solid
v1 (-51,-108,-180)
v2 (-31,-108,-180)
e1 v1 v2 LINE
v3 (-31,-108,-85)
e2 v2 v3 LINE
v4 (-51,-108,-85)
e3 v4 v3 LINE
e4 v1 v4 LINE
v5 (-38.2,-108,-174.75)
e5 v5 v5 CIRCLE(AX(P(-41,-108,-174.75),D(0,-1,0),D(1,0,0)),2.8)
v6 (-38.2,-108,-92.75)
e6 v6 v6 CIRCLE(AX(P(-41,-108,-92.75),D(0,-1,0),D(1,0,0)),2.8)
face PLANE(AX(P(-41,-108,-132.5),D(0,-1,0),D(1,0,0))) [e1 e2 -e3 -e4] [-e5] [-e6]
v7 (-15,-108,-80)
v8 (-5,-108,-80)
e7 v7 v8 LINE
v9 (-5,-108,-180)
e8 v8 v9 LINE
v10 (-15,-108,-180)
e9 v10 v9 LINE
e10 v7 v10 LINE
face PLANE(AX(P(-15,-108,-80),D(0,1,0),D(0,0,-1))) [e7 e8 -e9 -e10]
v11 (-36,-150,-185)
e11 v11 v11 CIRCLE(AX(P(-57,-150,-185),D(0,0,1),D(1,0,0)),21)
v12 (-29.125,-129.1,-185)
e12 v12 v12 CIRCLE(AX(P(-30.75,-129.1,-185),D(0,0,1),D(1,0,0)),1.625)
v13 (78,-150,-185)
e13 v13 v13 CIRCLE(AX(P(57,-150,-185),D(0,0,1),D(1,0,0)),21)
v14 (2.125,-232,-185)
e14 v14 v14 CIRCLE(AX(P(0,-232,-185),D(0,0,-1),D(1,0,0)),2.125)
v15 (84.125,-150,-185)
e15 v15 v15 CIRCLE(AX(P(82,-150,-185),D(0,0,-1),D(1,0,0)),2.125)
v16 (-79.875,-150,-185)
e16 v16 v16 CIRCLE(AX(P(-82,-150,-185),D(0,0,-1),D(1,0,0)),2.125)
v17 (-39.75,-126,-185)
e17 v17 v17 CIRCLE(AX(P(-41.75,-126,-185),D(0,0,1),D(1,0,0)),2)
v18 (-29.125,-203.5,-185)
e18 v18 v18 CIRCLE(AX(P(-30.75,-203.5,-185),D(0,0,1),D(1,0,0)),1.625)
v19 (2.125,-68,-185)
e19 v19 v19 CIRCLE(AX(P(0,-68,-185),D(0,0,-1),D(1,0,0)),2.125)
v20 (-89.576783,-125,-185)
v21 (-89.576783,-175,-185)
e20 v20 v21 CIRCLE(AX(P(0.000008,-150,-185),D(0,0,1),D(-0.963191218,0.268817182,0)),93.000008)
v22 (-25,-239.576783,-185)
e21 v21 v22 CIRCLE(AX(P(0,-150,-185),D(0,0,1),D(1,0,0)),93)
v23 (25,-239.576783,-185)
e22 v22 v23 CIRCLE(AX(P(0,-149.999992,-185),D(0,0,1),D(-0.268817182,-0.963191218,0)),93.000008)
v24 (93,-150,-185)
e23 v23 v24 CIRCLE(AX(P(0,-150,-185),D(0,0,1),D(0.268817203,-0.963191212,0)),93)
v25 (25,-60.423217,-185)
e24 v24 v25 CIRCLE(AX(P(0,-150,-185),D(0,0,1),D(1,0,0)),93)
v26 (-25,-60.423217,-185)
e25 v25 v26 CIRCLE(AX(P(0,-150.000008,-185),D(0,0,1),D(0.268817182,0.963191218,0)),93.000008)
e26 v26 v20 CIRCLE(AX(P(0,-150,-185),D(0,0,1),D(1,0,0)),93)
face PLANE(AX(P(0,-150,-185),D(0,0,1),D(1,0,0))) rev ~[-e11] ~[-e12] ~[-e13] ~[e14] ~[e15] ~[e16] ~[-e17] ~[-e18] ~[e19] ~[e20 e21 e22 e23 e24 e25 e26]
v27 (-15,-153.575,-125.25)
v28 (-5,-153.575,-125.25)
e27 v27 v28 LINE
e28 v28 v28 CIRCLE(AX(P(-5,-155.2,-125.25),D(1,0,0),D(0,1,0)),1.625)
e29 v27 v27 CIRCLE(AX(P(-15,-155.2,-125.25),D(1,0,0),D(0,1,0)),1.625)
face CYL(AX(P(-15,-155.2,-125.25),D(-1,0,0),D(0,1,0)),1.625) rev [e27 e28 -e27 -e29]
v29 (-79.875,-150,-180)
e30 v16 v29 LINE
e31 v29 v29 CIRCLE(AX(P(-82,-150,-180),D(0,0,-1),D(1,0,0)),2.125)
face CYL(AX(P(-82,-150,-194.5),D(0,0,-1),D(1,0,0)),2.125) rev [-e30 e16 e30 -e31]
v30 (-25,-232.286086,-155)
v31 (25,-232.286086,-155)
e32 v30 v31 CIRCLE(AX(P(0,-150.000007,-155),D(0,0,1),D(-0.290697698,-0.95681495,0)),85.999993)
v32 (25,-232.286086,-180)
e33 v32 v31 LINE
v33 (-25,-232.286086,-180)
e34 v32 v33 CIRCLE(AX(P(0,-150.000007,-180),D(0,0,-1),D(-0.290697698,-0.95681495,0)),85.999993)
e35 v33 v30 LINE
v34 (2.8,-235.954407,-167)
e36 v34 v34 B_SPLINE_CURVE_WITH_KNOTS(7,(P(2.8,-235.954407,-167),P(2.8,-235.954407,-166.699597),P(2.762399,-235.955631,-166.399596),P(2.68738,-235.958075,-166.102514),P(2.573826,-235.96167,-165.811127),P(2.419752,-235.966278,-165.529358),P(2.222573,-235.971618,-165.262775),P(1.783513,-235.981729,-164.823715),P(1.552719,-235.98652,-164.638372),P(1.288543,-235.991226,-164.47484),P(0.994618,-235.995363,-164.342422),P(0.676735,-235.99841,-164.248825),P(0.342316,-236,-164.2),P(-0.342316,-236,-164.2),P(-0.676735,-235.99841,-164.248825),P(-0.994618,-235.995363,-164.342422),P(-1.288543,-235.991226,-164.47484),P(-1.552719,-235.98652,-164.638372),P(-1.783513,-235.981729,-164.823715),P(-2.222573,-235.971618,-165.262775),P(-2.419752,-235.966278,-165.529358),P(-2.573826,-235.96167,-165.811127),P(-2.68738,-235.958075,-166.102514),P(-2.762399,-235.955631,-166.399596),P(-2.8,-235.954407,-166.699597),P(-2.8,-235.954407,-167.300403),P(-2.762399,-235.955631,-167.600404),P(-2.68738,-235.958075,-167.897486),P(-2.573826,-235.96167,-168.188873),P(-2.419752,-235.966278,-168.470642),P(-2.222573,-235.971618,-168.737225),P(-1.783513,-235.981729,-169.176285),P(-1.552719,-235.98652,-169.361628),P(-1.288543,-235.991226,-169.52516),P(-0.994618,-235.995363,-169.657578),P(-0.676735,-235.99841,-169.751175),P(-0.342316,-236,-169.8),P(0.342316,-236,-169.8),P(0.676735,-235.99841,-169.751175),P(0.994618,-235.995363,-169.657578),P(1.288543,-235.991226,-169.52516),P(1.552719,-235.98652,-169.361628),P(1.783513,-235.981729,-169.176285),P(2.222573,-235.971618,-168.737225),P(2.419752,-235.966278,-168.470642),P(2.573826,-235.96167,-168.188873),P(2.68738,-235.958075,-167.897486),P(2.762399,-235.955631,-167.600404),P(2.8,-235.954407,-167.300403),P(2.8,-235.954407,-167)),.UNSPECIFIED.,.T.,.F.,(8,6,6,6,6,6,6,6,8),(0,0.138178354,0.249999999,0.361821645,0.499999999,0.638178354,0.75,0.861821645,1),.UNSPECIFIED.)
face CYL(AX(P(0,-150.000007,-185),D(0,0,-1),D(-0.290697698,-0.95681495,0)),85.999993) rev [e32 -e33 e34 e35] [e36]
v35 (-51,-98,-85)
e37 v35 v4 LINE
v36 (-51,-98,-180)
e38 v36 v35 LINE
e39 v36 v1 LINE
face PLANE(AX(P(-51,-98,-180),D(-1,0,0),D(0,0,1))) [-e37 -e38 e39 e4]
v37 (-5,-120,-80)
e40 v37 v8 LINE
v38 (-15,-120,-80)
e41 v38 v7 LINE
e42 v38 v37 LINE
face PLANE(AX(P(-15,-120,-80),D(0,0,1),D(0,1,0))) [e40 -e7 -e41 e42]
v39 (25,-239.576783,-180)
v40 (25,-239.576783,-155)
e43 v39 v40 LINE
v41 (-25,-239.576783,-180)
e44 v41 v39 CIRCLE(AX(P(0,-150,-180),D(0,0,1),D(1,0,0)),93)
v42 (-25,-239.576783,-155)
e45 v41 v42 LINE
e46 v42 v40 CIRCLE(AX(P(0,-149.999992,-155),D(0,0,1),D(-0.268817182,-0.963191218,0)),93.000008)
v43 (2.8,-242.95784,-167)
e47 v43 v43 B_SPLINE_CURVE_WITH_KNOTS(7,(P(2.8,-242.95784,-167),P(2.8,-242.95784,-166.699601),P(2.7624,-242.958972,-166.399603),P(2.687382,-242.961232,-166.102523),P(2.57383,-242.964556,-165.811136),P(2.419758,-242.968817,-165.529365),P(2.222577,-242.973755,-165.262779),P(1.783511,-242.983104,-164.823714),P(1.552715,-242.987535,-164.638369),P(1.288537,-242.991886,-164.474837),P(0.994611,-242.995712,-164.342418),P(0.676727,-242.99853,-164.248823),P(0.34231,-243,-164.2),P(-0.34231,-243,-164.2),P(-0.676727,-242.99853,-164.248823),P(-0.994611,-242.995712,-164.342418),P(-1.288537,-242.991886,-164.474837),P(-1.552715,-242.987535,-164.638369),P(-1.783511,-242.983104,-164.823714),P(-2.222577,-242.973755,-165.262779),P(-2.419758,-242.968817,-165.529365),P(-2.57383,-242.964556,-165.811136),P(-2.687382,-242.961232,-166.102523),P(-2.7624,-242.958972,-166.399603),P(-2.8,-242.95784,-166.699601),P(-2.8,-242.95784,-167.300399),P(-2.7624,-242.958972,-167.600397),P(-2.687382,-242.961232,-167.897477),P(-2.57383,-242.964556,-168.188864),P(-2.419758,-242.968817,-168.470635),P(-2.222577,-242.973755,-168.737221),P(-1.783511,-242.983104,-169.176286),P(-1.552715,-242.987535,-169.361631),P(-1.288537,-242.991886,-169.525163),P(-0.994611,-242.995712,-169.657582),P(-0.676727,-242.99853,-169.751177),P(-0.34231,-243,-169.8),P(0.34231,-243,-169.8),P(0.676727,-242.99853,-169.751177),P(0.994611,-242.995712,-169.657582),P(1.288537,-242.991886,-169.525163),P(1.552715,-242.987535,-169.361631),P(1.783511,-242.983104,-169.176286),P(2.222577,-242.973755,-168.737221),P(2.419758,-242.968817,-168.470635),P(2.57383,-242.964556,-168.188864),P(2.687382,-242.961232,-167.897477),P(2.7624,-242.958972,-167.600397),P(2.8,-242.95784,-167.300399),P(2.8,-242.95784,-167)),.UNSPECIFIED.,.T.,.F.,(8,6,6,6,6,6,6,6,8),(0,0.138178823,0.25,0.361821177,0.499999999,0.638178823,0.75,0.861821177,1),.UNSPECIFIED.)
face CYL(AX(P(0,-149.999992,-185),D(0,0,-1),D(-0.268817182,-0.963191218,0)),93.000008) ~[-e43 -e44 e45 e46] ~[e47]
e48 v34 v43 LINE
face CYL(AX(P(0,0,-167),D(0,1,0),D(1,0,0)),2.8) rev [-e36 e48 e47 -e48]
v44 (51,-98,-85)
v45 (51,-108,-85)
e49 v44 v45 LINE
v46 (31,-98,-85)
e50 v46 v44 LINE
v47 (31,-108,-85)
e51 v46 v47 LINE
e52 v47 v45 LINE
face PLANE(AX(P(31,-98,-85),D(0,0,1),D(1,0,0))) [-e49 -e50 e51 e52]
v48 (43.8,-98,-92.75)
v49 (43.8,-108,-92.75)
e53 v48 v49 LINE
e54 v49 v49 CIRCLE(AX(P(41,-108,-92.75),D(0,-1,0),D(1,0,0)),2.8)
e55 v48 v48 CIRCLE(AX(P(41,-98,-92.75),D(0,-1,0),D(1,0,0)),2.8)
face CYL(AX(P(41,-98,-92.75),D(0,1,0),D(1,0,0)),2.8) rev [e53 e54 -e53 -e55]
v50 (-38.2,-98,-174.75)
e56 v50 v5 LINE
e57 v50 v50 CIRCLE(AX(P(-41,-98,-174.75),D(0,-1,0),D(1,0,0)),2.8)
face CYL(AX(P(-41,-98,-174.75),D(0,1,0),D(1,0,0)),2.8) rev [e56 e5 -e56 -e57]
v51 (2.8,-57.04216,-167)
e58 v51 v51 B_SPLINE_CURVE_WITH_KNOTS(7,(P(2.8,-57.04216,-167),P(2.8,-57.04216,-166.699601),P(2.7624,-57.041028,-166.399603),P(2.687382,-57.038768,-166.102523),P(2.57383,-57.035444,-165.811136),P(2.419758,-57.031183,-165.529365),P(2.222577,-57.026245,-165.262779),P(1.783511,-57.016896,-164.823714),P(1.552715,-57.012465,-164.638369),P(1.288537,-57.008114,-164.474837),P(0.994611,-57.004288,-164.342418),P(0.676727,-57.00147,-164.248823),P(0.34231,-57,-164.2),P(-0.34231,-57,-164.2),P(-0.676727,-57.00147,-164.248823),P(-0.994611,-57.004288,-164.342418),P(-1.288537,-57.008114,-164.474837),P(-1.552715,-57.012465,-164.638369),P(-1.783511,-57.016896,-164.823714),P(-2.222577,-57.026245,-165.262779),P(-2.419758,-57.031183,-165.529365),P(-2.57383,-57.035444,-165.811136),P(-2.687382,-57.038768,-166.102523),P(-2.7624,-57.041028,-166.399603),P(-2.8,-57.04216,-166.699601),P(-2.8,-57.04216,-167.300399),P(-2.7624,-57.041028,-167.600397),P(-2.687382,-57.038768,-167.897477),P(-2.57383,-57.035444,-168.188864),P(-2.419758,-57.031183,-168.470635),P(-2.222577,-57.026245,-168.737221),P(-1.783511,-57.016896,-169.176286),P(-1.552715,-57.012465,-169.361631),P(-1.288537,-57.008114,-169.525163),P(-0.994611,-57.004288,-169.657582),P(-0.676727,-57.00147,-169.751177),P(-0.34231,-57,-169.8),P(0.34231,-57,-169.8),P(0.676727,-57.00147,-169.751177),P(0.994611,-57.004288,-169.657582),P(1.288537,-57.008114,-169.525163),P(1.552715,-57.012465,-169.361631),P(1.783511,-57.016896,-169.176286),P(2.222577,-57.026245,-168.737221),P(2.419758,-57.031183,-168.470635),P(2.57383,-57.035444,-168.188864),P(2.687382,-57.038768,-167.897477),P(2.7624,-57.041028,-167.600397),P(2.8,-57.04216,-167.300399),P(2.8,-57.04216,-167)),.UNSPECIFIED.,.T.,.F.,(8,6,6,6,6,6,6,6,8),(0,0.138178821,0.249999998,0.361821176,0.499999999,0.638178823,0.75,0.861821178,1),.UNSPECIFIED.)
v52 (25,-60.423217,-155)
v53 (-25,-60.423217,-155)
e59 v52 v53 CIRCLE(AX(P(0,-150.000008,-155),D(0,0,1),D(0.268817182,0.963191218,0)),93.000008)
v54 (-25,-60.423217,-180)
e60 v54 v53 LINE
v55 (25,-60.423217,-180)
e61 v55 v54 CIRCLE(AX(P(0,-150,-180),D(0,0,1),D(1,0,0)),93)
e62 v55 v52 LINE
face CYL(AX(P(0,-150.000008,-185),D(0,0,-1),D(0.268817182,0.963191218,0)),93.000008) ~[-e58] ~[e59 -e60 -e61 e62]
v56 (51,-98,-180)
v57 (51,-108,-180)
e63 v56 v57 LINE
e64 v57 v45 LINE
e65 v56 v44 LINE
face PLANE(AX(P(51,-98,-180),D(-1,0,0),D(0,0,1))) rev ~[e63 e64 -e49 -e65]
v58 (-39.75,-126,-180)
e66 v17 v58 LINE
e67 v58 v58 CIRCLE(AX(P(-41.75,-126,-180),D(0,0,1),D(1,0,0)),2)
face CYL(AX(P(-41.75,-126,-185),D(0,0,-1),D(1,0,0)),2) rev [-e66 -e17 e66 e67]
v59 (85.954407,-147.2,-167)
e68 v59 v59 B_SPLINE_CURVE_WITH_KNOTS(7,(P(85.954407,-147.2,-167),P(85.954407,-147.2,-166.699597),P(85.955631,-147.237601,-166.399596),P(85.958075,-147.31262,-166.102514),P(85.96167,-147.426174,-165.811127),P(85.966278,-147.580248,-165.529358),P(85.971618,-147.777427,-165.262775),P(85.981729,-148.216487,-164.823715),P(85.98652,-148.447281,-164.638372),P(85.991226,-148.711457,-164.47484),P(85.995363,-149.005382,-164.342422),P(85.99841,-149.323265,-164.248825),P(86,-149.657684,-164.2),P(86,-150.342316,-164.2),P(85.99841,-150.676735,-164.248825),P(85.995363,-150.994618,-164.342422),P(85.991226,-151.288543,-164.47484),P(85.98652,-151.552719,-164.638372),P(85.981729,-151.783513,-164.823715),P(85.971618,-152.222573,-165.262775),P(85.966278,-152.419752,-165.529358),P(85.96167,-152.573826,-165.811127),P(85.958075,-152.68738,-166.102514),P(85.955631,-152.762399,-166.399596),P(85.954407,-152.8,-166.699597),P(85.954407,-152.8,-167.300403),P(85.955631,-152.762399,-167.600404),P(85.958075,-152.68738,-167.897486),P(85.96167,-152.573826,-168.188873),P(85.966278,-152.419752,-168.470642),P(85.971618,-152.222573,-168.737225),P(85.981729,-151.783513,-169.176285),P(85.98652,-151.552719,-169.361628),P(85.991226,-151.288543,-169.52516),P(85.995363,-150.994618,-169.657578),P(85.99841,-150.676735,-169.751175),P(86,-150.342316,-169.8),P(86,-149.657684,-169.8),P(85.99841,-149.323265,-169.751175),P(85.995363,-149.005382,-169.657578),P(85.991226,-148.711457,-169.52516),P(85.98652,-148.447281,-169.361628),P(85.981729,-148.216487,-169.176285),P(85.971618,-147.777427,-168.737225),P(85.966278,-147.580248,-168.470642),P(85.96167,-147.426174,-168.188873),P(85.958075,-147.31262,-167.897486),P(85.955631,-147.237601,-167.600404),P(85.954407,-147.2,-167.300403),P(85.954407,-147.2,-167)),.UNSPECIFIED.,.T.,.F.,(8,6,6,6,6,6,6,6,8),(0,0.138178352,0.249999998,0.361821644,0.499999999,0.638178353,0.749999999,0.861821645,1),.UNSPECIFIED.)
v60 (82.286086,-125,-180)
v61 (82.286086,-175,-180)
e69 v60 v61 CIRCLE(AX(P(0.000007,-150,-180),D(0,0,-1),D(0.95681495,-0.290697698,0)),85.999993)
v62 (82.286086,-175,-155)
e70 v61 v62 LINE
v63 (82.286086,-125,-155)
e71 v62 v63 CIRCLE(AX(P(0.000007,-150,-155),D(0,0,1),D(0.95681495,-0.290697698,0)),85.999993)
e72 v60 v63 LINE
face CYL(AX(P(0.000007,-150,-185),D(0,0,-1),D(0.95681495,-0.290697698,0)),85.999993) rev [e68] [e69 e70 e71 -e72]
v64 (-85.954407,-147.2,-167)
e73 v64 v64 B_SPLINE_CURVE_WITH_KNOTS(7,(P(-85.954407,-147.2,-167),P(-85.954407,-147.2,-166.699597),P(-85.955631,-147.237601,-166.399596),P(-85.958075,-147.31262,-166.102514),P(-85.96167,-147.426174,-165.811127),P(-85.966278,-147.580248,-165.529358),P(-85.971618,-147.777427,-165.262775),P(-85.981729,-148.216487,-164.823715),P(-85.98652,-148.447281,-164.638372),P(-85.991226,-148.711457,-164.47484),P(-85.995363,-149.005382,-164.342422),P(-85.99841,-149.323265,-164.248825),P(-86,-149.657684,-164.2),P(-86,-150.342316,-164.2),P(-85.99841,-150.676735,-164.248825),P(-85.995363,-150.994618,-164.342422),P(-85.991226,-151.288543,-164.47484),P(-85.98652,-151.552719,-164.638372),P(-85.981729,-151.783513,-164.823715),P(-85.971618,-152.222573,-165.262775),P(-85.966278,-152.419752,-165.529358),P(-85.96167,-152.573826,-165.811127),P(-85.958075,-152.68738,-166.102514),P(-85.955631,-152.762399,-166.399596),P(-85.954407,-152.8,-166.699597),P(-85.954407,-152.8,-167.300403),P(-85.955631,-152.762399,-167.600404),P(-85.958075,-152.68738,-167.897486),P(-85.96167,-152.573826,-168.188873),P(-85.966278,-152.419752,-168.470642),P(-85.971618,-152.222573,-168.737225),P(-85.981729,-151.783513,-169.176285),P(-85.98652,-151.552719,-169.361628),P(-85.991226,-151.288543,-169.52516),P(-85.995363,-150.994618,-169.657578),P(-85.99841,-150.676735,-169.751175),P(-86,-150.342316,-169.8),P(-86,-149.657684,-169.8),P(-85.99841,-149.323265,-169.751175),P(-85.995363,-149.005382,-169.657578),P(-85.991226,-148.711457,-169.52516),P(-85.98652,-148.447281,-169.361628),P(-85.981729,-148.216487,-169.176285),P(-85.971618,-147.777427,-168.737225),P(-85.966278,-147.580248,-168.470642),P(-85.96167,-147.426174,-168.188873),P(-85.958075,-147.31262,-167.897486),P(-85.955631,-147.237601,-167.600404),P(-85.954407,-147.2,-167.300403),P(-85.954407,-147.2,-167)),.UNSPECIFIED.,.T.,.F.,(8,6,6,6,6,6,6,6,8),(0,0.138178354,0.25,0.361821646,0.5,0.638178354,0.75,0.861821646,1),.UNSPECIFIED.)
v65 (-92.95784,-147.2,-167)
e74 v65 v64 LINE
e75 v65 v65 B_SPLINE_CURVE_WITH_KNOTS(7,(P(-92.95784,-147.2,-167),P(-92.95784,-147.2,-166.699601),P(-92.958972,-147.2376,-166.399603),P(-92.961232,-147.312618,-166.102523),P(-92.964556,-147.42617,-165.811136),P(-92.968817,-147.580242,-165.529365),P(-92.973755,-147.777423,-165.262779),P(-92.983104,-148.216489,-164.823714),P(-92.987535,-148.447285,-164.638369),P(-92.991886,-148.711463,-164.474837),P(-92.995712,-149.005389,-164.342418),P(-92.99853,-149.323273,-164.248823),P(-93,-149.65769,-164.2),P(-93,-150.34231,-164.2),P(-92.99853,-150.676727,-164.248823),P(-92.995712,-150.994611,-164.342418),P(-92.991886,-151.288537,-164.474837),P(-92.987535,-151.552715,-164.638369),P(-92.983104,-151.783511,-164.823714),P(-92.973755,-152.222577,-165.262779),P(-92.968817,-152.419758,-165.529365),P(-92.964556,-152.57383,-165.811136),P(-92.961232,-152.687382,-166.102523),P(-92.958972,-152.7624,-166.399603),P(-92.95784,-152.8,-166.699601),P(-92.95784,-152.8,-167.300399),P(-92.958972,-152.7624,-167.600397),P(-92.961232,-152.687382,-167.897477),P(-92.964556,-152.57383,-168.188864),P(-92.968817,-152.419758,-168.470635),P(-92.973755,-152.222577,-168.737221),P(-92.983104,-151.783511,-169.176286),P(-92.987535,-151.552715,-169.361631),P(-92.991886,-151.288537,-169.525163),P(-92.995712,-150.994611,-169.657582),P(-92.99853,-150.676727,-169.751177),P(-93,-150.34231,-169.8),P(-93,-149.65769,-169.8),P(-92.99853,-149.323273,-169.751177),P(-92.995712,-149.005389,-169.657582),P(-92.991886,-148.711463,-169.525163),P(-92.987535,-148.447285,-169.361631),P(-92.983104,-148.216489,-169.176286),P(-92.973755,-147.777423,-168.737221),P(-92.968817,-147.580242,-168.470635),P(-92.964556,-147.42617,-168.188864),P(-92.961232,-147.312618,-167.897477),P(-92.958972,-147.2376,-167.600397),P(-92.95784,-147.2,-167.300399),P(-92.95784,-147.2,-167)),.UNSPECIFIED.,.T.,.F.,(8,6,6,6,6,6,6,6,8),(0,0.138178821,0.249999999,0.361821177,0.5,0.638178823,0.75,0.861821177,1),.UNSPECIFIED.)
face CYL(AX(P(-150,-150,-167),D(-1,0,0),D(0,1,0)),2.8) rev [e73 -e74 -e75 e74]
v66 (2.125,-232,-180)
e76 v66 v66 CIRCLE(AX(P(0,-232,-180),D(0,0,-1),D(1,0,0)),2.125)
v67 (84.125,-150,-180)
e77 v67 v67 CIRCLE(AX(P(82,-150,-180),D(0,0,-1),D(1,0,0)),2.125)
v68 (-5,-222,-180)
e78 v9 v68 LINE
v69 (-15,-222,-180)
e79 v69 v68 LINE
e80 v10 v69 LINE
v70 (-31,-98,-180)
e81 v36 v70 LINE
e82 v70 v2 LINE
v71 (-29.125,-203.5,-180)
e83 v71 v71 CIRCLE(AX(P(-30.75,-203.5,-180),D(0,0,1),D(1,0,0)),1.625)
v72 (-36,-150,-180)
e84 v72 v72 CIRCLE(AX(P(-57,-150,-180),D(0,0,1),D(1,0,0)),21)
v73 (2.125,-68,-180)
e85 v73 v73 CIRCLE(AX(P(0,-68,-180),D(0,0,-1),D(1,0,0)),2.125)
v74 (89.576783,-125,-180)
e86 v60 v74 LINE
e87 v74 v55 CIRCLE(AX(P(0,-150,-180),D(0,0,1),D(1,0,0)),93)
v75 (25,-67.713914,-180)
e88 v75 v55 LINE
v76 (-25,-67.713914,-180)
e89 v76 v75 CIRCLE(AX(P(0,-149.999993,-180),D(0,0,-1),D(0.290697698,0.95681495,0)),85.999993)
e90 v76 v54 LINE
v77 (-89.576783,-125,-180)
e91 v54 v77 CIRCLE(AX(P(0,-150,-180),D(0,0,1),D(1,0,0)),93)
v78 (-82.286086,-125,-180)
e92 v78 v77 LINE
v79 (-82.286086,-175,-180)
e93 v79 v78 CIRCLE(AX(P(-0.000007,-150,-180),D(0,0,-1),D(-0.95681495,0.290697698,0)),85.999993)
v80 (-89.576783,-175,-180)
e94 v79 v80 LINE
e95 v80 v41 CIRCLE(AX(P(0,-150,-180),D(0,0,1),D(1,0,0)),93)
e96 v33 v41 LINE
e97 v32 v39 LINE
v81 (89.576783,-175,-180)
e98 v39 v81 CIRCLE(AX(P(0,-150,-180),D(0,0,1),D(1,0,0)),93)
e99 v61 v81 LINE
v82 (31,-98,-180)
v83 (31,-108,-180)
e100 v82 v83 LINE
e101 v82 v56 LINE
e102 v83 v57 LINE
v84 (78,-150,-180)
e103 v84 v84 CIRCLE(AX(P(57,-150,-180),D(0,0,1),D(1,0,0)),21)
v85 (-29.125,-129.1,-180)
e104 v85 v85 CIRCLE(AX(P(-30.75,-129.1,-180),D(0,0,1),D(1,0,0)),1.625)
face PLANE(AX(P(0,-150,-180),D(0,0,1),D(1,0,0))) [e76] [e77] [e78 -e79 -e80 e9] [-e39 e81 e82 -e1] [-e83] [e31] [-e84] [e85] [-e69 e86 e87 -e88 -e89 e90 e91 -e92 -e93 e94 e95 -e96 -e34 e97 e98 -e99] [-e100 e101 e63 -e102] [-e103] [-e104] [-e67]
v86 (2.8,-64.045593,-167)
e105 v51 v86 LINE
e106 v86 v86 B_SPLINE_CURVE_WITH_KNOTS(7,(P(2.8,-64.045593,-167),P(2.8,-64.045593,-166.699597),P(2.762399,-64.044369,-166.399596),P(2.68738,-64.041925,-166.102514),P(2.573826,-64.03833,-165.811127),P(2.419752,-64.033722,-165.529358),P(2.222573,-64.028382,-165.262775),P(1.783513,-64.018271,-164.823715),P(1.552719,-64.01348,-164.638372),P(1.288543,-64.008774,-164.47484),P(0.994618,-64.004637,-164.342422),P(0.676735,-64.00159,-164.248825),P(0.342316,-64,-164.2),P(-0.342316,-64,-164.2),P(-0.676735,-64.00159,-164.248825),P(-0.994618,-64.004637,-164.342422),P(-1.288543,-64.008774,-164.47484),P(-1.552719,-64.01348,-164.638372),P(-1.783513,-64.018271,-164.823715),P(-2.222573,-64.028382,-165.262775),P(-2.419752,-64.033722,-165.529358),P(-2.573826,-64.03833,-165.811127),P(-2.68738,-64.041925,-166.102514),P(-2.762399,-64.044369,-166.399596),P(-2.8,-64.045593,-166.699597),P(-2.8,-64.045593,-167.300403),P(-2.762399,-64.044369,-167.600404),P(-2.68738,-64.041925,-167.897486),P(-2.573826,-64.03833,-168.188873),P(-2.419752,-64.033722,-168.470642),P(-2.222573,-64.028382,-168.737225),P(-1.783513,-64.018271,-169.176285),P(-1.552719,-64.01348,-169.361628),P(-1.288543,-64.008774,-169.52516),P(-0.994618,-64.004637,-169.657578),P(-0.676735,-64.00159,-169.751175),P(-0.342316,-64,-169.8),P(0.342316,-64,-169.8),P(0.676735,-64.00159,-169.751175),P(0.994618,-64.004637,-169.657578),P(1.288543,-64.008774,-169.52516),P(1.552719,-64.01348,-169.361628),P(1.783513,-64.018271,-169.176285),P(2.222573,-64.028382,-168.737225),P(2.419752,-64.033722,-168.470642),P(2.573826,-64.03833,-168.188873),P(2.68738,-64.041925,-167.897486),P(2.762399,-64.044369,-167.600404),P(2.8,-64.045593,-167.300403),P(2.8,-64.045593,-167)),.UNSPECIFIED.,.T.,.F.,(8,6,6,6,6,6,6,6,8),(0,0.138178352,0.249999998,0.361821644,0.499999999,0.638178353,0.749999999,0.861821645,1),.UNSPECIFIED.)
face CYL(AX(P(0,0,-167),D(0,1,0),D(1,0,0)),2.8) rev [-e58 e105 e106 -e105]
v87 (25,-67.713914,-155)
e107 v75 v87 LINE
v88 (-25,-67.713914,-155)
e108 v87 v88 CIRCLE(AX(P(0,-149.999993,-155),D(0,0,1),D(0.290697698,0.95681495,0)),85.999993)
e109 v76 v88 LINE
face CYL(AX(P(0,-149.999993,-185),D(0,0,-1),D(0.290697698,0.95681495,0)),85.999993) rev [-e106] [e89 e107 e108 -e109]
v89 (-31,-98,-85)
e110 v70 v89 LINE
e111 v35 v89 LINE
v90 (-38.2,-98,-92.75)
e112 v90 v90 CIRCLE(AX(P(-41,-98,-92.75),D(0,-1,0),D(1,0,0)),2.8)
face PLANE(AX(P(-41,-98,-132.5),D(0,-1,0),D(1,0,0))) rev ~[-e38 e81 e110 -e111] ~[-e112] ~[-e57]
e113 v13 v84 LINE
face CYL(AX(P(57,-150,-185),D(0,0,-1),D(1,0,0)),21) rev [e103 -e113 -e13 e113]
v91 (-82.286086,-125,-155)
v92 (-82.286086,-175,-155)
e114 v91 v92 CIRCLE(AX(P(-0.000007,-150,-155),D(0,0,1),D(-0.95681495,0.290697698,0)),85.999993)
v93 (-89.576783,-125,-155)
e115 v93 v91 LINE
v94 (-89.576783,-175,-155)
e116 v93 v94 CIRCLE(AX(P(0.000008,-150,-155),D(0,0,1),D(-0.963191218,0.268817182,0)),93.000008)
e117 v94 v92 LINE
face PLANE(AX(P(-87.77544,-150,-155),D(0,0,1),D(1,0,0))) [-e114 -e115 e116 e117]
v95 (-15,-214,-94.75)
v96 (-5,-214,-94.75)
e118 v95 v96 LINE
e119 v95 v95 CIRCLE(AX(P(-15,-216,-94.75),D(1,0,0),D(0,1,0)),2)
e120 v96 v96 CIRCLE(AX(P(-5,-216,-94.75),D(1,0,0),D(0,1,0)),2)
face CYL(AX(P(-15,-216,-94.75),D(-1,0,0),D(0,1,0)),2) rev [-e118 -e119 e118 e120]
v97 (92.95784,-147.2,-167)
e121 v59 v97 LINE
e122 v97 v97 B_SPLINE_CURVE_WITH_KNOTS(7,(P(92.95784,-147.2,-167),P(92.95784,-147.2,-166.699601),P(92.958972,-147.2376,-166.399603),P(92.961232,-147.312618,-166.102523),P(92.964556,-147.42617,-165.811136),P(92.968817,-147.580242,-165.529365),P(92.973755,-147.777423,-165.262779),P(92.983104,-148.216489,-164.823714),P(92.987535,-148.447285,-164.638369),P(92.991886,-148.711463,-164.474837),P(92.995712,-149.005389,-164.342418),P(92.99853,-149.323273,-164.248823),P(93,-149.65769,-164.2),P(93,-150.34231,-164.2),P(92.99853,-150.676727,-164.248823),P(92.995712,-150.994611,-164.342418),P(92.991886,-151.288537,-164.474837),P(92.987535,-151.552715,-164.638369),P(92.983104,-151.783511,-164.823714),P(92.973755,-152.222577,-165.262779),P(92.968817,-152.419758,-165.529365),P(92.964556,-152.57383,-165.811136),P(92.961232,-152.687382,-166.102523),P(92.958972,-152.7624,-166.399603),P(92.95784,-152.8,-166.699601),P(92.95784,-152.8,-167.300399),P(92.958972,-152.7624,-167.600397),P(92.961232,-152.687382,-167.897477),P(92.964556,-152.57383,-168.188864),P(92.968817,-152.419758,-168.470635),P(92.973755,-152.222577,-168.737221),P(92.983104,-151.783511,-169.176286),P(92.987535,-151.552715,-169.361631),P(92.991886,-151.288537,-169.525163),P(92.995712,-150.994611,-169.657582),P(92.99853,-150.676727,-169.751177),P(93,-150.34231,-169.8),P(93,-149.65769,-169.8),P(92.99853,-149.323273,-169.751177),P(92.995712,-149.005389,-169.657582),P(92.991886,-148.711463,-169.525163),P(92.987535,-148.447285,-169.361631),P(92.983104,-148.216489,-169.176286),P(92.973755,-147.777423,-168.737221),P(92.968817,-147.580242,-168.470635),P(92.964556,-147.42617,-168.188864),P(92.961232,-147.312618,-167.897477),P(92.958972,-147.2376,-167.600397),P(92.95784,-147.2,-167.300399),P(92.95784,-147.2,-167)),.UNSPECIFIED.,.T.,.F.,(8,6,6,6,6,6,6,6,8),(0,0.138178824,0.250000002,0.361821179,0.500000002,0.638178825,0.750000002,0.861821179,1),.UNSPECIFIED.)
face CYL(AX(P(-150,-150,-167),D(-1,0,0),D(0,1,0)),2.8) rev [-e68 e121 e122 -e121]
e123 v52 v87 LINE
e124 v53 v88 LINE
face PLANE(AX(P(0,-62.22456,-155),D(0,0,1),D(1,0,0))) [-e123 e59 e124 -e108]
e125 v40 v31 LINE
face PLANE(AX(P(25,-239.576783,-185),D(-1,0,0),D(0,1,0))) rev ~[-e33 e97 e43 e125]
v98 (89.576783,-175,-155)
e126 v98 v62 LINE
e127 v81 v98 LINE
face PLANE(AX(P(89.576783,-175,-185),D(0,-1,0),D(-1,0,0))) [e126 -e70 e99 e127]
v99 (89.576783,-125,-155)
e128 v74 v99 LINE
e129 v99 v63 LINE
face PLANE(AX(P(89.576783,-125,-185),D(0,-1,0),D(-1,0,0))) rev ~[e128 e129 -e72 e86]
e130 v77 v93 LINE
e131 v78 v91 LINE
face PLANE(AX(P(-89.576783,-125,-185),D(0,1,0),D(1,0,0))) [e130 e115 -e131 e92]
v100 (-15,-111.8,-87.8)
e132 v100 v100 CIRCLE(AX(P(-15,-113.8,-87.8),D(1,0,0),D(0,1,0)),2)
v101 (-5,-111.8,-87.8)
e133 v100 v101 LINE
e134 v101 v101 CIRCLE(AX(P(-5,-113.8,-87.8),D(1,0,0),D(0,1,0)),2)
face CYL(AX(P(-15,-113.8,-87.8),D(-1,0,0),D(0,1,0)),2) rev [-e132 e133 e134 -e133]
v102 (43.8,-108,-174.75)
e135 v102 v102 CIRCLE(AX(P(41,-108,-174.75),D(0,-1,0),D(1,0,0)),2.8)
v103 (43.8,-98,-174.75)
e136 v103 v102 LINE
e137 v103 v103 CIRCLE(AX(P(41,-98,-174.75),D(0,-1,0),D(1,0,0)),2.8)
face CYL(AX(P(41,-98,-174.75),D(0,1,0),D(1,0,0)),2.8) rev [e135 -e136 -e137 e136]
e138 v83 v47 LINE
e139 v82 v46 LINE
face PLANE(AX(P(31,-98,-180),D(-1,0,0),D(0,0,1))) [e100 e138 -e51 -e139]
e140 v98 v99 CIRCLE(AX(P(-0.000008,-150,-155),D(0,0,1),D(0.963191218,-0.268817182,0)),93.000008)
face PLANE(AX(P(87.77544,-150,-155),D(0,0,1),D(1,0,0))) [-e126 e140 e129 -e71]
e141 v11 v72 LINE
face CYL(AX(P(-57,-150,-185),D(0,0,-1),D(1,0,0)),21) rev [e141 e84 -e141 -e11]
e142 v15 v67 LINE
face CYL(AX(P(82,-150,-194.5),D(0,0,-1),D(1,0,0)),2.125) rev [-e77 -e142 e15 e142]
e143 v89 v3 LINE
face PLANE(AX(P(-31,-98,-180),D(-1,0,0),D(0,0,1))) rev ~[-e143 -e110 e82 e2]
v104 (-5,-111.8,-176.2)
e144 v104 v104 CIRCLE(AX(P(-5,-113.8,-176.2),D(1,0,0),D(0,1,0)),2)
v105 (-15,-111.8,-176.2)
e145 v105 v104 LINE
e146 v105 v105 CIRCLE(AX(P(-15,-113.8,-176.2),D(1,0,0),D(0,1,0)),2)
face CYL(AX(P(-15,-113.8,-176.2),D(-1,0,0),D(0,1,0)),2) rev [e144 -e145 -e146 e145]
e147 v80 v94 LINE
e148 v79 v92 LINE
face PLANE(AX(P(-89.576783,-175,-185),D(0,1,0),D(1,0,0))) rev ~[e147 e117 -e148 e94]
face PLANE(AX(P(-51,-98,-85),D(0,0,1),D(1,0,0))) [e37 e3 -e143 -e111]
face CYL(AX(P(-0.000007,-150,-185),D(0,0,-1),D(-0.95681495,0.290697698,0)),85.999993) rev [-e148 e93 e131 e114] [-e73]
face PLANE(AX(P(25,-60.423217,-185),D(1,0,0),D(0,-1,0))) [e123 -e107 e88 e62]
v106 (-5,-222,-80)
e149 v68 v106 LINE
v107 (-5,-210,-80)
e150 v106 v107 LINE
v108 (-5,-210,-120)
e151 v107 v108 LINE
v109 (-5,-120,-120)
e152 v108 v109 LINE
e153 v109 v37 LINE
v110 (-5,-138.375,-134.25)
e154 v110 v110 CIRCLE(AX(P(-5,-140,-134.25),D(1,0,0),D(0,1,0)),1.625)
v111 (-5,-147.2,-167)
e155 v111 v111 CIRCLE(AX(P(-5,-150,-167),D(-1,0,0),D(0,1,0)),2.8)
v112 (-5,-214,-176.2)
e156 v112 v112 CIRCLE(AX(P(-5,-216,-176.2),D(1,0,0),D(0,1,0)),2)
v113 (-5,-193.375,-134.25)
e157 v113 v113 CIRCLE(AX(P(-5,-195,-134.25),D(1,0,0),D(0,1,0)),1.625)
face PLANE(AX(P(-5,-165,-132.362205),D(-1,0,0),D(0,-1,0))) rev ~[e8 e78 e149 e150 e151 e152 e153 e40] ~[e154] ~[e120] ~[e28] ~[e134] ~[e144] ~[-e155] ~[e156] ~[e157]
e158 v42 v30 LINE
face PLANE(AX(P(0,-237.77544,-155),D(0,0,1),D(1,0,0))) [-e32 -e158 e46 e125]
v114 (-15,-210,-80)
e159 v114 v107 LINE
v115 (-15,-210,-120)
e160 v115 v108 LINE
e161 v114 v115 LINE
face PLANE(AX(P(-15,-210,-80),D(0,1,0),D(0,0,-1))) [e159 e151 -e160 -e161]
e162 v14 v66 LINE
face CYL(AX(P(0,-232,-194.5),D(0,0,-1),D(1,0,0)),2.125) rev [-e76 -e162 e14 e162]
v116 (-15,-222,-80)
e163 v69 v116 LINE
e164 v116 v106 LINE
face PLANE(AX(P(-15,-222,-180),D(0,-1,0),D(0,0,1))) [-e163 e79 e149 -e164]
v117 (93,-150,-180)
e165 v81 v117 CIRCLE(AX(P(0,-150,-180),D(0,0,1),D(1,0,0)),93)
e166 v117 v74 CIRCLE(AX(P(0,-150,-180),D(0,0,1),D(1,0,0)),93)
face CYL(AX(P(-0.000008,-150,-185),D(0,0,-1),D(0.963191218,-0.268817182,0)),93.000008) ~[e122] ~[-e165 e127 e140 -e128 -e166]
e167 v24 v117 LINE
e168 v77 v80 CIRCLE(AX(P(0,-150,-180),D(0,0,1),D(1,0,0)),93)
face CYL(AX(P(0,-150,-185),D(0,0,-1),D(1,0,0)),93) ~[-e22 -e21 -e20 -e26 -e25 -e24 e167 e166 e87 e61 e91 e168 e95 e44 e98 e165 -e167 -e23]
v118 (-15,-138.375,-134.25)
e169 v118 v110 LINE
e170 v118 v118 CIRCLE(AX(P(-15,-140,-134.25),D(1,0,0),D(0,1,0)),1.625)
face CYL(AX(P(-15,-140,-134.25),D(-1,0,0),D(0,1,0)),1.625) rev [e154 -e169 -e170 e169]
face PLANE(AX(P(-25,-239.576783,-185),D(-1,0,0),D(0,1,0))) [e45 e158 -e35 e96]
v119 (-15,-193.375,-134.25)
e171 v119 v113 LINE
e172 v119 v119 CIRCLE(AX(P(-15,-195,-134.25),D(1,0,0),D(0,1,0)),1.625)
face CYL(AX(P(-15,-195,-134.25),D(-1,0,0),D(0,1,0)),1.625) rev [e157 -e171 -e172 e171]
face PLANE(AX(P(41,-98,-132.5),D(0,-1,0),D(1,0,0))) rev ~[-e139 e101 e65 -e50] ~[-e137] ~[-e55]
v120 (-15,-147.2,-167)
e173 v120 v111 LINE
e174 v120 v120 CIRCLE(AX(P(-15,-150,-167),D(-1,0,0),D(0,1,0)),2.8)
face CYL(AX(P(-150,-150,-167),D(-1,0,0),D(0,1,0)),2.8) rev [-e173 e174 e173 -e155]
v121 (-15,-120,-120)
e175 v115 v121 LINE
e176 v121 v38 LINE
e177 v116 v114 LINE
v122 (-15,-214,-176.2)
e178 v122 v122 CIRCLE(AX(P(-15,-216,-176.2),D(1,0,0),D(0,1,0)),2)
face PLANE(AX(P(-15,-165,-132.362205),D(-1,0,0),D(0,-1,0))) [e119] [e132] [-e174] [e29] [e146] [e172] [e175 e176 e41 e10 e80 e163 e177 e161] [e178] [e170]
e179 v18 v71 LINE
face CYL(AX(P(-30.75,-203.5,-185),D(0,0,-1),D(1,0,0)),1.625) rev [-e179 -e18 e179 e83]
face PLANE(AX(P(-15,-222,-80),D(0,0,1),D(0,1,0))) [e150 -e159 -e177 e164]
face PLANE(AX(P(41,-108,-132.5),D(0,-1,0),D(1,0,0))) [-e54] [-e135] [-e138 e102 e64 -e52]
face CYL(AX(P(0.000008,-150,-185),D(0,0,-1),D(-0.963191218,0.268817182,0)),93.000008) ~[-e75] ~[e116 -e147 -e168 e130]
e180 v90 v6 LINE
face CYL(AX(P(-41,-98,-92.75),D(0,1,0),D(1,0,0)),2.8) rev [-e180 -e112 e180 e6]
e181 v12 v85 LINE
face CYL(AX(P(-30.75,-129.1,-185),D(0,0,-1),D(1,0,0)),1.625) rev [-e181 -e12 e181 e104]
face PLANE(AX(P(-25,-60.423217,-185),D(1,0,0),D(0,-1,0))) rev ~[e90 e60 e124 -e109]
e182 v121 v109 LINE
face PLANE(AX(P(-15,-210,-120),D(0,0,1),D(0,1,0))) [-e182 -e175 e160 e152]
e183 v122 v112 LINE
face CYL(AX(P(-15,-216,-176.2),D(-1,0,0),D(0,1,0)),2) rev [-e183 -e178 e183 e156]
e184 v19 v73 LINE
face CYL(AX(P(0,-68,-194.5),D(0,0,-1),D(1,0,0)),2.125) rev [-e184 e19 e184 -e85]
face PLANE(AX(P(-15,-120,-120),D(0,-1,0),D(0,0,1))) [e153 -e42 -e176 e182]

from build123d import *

# Parameters (mm, degrees)
CYLINDER135_R     = 2.8
CYLINDER135_DEPTH = 300
CYLINDER136_R     = 2.8
CYLINDER136_DEPTH = 300
SKETCH043_R       = 2.125
EXTRUDE025_DEPTH  = 20
EXTRUDE021_DEPTH  = 30
SKETCH034_W       = 20
SKETCH034_H       = 95
SKETCH034_R       = 2.8
EXTRUDE016_DEPTH  = 10
SKETCH035_R       = 2
SKETCH035_R_2     = 1.625
EXTRUDE017_DEPTH  = 10
SKETCH033_R       = 93
SKETCH033_R_2     = 21
SKETCH033_R_3     = 2
SKETCH033_R_4     = 1.625
EXTRUDE015_DEPTH  = 5


with BuildPart() as cylinder135:
    # Cylinder135 → Cylinder135 (new body)
    with BuildSketch(Plane(origin=(0, 0, 90), x_dir=(1, 0, 0), z_dir=(0, -1, 0))):
        Circle(CYLINDER135_R)
    extrude(amount=CYLINDER135_DEPTH)


with BuildPart() as m4heatsetcuts002:
    # Cylinder136 → Cylinder136 (new body)
    with BuildSketch(Plane(origin=(-150, -150, 90), x_dir=(0, 1, 0), z_dir=(1, 0, 0))):
        Circle(CYLINDER136_R)
    extrude(amount=CYLINDER136_DEPTH)

    # Fusion086: union Cylinder135
    add(cylinder135.part)


with BuildPart() as m4heatsetcuts002_1:
    # Fusion086 placement: moved
    add(m4heatsetcuts002.part.moved(Location((0, 0, -257))))


with BuildPart() as m4vercuts:
    # Sketch043 → Extrude025 (new body)
    with BuildSketch(Plane.XY):
        with Locations((0, -68)):
            Circle(SKETCH043_R)
        with Locations((82, -150)):
            Circle(SKETCH043_R)
        with Locations((0, -232)):
            Circle(SKETCH043_R)
        with Locations((-82, -150)):
            Circle(SKETCH043_R)
    extrude(amount=EXTRUDE025_DEPTH)


with BuildPart() as m4vercuts_1:
    # Extrude025 placement: moved
    add(m4vercuts.part.moved(Location((0, 0, -194.5))))


with BuildPart() as srsholds002:
    # Sketch039 → Extrude021 (new body)
    with BuildSketch(Plane.XY):
        with BuildLine():
            ThreePointArc((-89.576783, -125), (-93, -150), (-89.576783, -175))
            Line((-89.576783, -175), (-82.286086, -175))
            ThreePointArc((-82.286086, -125), (-86, -150), (-82.286086, -175))
            Line((-89.576783, -125), (-82.286086, -125))
        make_face()
        with BuildLine():
            ThreePointArc((25, -60.423217), (0, -57), (-25, -60.423217))
            Line((-25, -60.423217), (-25, -67.713914))
            ThreePointArc((25, -67.713914), (0, -64), (-25, -67.713914))
            Line((25, -60.423217), (25, -67.713914))
        make_face()
        with BuildLine():
            ThreePointArc((89.576783, -175), (93, -150), (89.576783, -125))
            Line((89.576783, -125), (82.286086, -125))
            ThreePointArc((82.286086, -175), (86, -150), (82.286086, -125))
            Line((89.576783, -175), (82.286086, -175))
        make_face()
        with BuildLine():
            ThreePointArc((-25, -239.576783), (0, -243), (25, -239.576783))
            Line((25, -239.576783), (25, -232.286086))
            ThreePointArc((-25, -232.286086), (0, -236), (25, -232.286086))
            Line((-25, -239.576783), (-25, -232.286086))
        make_face()
    extrude(amount=EXTRUDE021_DEPTH)


with BuildPart() as srsholds002_1:
    # Extrude021 placement: moved
    add(srsholds002.part.moved(Location((0, 0, -185))))


with BuildPart() as fanholder:
    # Sketch034 → Extrude016 (new body)
    with BuildSketch(Plane.XZ):
        with Locations((-41, -132.5)):
            Rectangle(SKETCH034_W, SKETCH034_H)
        with Locations((-41, -92.75)):
            Circle(SKETCH034_R, mode=Mode.SUBTRACT)
        with Locations((-41, -174.75)):
            Circle(SKETCH034_R, mode=Mode.SUBTRACT)
        with Locations((41, -132.5)):
            Rectangle(SKETCH034_W, SKETCH034_H)
        with Locations((41, -92.75)):
            Circle(SKETCH034_R, mode=Mode.SUBTRACT)
        with Locations((41, -174.75)):
            Circle(SKETCH034_R, mode=Mode.SUBTRACT)
    extrude(amount=EXTRUDE016_DEPTH)


with BuildPart() as fanholder_1:
    # Extrude016 placement: moved
    add(fanholder.part.moved(Location((0, -98, 0))))


with BuildPart() as powersbcholder:
    # Sketch035 → Extrude017 (new body)
    with BuildSketch(Plane.YZ):
        Polygon((-222, -80), (-210, -80), (-210, -120), (-120, -120), (-120, -80), (-108, -80), (-108, -180), (-222, -180), align=None)
        with Locations((-216, -94.75)):
            Circle(SKETCH035_R, mode=Mode.SUBTRACT)
        with Locations((-113.8, -87.8)):
            Circle(SKETCH035_R, mode=Mode.SUBTRACT)
        with Locations((-113.8, -176.2)):
            Circle(SKETCH035_R, mode=Mode.SUBTRACT)
        with Locations((-216, -176.2)):
            Circle(SKETCH035_R, mode=Mode.SUBTRACT)
        with Locations((-155.2, -125.25)):
            Circle(SKETCH035_R_2, mode=Mode.SUBTRACT)
        with Locations((-140, -134.25)):
            Circle(SKETCH035_R_2, mode=Mode.SUBTRACT)
        with Locations((-195, -134.25)):
            Circle(SKETCH035_R_2, mode=Mode.SUBTRACT)
    extrude(amount=EXTRUDE017_DEPTH)


with BuildPart() as powersbcholder_1:
    # Extrude017 placement: moved
    add(powersbcholder.part.moved(Location((-15, 0, 0))))


with BuildPart() as level4s001:
    # Sketch033 → Extrude015 (new body)
    with BuildSketch(Plane.XY):
        with Locations((0, -150)):
            Circle(SKETCH033_R)
        with Locations((-57, -150)):
            Circle(SKETCH033_R_2, mode=Mode.SUBTRACT)
        with Locations((-41.75, -126)):
            Circle(SKETCH033_R_3, mode=Mode.SUBTRACT)
        with Locations((-30.75, -129.1)):
            Circle(SKETCH033_R_4, mode=Mode.SUBTRACT)
        with Locations((-30.75, -203.5)):
            Circle(SKETCH033_R_4, mode=Mode.SUBTRACT)
        with Locations((57, -150)):
            Circle(SKETCH033_R_2, mode=Mode.SUBTRACT)
    extrude(amount=EXTRUDE015_DEPTH)


with BuildPart() as level4s001_1:
    # Extrude015 placement: moved
    add(level4s001.part.moved(Location((0, 0, -185))))

    # Fusion077: union fanHolder, powerSBCHolder
    add(fanholder_1.part)
    add(powersbcholder_1.part)

    # Fusion081: union srsHolds002
    add(srsholds002_1.part)

    # Cut037: cut m4VerCuts
    add(m4vercuts_1.part, mode=Mode.SUBTRACT)

    # Cut039: cut m4HeatSetCuts002
    add(m4heatsetcuts002_1.part, mode=Mode.SUBTRACT)


solid = level4s001_1.part
